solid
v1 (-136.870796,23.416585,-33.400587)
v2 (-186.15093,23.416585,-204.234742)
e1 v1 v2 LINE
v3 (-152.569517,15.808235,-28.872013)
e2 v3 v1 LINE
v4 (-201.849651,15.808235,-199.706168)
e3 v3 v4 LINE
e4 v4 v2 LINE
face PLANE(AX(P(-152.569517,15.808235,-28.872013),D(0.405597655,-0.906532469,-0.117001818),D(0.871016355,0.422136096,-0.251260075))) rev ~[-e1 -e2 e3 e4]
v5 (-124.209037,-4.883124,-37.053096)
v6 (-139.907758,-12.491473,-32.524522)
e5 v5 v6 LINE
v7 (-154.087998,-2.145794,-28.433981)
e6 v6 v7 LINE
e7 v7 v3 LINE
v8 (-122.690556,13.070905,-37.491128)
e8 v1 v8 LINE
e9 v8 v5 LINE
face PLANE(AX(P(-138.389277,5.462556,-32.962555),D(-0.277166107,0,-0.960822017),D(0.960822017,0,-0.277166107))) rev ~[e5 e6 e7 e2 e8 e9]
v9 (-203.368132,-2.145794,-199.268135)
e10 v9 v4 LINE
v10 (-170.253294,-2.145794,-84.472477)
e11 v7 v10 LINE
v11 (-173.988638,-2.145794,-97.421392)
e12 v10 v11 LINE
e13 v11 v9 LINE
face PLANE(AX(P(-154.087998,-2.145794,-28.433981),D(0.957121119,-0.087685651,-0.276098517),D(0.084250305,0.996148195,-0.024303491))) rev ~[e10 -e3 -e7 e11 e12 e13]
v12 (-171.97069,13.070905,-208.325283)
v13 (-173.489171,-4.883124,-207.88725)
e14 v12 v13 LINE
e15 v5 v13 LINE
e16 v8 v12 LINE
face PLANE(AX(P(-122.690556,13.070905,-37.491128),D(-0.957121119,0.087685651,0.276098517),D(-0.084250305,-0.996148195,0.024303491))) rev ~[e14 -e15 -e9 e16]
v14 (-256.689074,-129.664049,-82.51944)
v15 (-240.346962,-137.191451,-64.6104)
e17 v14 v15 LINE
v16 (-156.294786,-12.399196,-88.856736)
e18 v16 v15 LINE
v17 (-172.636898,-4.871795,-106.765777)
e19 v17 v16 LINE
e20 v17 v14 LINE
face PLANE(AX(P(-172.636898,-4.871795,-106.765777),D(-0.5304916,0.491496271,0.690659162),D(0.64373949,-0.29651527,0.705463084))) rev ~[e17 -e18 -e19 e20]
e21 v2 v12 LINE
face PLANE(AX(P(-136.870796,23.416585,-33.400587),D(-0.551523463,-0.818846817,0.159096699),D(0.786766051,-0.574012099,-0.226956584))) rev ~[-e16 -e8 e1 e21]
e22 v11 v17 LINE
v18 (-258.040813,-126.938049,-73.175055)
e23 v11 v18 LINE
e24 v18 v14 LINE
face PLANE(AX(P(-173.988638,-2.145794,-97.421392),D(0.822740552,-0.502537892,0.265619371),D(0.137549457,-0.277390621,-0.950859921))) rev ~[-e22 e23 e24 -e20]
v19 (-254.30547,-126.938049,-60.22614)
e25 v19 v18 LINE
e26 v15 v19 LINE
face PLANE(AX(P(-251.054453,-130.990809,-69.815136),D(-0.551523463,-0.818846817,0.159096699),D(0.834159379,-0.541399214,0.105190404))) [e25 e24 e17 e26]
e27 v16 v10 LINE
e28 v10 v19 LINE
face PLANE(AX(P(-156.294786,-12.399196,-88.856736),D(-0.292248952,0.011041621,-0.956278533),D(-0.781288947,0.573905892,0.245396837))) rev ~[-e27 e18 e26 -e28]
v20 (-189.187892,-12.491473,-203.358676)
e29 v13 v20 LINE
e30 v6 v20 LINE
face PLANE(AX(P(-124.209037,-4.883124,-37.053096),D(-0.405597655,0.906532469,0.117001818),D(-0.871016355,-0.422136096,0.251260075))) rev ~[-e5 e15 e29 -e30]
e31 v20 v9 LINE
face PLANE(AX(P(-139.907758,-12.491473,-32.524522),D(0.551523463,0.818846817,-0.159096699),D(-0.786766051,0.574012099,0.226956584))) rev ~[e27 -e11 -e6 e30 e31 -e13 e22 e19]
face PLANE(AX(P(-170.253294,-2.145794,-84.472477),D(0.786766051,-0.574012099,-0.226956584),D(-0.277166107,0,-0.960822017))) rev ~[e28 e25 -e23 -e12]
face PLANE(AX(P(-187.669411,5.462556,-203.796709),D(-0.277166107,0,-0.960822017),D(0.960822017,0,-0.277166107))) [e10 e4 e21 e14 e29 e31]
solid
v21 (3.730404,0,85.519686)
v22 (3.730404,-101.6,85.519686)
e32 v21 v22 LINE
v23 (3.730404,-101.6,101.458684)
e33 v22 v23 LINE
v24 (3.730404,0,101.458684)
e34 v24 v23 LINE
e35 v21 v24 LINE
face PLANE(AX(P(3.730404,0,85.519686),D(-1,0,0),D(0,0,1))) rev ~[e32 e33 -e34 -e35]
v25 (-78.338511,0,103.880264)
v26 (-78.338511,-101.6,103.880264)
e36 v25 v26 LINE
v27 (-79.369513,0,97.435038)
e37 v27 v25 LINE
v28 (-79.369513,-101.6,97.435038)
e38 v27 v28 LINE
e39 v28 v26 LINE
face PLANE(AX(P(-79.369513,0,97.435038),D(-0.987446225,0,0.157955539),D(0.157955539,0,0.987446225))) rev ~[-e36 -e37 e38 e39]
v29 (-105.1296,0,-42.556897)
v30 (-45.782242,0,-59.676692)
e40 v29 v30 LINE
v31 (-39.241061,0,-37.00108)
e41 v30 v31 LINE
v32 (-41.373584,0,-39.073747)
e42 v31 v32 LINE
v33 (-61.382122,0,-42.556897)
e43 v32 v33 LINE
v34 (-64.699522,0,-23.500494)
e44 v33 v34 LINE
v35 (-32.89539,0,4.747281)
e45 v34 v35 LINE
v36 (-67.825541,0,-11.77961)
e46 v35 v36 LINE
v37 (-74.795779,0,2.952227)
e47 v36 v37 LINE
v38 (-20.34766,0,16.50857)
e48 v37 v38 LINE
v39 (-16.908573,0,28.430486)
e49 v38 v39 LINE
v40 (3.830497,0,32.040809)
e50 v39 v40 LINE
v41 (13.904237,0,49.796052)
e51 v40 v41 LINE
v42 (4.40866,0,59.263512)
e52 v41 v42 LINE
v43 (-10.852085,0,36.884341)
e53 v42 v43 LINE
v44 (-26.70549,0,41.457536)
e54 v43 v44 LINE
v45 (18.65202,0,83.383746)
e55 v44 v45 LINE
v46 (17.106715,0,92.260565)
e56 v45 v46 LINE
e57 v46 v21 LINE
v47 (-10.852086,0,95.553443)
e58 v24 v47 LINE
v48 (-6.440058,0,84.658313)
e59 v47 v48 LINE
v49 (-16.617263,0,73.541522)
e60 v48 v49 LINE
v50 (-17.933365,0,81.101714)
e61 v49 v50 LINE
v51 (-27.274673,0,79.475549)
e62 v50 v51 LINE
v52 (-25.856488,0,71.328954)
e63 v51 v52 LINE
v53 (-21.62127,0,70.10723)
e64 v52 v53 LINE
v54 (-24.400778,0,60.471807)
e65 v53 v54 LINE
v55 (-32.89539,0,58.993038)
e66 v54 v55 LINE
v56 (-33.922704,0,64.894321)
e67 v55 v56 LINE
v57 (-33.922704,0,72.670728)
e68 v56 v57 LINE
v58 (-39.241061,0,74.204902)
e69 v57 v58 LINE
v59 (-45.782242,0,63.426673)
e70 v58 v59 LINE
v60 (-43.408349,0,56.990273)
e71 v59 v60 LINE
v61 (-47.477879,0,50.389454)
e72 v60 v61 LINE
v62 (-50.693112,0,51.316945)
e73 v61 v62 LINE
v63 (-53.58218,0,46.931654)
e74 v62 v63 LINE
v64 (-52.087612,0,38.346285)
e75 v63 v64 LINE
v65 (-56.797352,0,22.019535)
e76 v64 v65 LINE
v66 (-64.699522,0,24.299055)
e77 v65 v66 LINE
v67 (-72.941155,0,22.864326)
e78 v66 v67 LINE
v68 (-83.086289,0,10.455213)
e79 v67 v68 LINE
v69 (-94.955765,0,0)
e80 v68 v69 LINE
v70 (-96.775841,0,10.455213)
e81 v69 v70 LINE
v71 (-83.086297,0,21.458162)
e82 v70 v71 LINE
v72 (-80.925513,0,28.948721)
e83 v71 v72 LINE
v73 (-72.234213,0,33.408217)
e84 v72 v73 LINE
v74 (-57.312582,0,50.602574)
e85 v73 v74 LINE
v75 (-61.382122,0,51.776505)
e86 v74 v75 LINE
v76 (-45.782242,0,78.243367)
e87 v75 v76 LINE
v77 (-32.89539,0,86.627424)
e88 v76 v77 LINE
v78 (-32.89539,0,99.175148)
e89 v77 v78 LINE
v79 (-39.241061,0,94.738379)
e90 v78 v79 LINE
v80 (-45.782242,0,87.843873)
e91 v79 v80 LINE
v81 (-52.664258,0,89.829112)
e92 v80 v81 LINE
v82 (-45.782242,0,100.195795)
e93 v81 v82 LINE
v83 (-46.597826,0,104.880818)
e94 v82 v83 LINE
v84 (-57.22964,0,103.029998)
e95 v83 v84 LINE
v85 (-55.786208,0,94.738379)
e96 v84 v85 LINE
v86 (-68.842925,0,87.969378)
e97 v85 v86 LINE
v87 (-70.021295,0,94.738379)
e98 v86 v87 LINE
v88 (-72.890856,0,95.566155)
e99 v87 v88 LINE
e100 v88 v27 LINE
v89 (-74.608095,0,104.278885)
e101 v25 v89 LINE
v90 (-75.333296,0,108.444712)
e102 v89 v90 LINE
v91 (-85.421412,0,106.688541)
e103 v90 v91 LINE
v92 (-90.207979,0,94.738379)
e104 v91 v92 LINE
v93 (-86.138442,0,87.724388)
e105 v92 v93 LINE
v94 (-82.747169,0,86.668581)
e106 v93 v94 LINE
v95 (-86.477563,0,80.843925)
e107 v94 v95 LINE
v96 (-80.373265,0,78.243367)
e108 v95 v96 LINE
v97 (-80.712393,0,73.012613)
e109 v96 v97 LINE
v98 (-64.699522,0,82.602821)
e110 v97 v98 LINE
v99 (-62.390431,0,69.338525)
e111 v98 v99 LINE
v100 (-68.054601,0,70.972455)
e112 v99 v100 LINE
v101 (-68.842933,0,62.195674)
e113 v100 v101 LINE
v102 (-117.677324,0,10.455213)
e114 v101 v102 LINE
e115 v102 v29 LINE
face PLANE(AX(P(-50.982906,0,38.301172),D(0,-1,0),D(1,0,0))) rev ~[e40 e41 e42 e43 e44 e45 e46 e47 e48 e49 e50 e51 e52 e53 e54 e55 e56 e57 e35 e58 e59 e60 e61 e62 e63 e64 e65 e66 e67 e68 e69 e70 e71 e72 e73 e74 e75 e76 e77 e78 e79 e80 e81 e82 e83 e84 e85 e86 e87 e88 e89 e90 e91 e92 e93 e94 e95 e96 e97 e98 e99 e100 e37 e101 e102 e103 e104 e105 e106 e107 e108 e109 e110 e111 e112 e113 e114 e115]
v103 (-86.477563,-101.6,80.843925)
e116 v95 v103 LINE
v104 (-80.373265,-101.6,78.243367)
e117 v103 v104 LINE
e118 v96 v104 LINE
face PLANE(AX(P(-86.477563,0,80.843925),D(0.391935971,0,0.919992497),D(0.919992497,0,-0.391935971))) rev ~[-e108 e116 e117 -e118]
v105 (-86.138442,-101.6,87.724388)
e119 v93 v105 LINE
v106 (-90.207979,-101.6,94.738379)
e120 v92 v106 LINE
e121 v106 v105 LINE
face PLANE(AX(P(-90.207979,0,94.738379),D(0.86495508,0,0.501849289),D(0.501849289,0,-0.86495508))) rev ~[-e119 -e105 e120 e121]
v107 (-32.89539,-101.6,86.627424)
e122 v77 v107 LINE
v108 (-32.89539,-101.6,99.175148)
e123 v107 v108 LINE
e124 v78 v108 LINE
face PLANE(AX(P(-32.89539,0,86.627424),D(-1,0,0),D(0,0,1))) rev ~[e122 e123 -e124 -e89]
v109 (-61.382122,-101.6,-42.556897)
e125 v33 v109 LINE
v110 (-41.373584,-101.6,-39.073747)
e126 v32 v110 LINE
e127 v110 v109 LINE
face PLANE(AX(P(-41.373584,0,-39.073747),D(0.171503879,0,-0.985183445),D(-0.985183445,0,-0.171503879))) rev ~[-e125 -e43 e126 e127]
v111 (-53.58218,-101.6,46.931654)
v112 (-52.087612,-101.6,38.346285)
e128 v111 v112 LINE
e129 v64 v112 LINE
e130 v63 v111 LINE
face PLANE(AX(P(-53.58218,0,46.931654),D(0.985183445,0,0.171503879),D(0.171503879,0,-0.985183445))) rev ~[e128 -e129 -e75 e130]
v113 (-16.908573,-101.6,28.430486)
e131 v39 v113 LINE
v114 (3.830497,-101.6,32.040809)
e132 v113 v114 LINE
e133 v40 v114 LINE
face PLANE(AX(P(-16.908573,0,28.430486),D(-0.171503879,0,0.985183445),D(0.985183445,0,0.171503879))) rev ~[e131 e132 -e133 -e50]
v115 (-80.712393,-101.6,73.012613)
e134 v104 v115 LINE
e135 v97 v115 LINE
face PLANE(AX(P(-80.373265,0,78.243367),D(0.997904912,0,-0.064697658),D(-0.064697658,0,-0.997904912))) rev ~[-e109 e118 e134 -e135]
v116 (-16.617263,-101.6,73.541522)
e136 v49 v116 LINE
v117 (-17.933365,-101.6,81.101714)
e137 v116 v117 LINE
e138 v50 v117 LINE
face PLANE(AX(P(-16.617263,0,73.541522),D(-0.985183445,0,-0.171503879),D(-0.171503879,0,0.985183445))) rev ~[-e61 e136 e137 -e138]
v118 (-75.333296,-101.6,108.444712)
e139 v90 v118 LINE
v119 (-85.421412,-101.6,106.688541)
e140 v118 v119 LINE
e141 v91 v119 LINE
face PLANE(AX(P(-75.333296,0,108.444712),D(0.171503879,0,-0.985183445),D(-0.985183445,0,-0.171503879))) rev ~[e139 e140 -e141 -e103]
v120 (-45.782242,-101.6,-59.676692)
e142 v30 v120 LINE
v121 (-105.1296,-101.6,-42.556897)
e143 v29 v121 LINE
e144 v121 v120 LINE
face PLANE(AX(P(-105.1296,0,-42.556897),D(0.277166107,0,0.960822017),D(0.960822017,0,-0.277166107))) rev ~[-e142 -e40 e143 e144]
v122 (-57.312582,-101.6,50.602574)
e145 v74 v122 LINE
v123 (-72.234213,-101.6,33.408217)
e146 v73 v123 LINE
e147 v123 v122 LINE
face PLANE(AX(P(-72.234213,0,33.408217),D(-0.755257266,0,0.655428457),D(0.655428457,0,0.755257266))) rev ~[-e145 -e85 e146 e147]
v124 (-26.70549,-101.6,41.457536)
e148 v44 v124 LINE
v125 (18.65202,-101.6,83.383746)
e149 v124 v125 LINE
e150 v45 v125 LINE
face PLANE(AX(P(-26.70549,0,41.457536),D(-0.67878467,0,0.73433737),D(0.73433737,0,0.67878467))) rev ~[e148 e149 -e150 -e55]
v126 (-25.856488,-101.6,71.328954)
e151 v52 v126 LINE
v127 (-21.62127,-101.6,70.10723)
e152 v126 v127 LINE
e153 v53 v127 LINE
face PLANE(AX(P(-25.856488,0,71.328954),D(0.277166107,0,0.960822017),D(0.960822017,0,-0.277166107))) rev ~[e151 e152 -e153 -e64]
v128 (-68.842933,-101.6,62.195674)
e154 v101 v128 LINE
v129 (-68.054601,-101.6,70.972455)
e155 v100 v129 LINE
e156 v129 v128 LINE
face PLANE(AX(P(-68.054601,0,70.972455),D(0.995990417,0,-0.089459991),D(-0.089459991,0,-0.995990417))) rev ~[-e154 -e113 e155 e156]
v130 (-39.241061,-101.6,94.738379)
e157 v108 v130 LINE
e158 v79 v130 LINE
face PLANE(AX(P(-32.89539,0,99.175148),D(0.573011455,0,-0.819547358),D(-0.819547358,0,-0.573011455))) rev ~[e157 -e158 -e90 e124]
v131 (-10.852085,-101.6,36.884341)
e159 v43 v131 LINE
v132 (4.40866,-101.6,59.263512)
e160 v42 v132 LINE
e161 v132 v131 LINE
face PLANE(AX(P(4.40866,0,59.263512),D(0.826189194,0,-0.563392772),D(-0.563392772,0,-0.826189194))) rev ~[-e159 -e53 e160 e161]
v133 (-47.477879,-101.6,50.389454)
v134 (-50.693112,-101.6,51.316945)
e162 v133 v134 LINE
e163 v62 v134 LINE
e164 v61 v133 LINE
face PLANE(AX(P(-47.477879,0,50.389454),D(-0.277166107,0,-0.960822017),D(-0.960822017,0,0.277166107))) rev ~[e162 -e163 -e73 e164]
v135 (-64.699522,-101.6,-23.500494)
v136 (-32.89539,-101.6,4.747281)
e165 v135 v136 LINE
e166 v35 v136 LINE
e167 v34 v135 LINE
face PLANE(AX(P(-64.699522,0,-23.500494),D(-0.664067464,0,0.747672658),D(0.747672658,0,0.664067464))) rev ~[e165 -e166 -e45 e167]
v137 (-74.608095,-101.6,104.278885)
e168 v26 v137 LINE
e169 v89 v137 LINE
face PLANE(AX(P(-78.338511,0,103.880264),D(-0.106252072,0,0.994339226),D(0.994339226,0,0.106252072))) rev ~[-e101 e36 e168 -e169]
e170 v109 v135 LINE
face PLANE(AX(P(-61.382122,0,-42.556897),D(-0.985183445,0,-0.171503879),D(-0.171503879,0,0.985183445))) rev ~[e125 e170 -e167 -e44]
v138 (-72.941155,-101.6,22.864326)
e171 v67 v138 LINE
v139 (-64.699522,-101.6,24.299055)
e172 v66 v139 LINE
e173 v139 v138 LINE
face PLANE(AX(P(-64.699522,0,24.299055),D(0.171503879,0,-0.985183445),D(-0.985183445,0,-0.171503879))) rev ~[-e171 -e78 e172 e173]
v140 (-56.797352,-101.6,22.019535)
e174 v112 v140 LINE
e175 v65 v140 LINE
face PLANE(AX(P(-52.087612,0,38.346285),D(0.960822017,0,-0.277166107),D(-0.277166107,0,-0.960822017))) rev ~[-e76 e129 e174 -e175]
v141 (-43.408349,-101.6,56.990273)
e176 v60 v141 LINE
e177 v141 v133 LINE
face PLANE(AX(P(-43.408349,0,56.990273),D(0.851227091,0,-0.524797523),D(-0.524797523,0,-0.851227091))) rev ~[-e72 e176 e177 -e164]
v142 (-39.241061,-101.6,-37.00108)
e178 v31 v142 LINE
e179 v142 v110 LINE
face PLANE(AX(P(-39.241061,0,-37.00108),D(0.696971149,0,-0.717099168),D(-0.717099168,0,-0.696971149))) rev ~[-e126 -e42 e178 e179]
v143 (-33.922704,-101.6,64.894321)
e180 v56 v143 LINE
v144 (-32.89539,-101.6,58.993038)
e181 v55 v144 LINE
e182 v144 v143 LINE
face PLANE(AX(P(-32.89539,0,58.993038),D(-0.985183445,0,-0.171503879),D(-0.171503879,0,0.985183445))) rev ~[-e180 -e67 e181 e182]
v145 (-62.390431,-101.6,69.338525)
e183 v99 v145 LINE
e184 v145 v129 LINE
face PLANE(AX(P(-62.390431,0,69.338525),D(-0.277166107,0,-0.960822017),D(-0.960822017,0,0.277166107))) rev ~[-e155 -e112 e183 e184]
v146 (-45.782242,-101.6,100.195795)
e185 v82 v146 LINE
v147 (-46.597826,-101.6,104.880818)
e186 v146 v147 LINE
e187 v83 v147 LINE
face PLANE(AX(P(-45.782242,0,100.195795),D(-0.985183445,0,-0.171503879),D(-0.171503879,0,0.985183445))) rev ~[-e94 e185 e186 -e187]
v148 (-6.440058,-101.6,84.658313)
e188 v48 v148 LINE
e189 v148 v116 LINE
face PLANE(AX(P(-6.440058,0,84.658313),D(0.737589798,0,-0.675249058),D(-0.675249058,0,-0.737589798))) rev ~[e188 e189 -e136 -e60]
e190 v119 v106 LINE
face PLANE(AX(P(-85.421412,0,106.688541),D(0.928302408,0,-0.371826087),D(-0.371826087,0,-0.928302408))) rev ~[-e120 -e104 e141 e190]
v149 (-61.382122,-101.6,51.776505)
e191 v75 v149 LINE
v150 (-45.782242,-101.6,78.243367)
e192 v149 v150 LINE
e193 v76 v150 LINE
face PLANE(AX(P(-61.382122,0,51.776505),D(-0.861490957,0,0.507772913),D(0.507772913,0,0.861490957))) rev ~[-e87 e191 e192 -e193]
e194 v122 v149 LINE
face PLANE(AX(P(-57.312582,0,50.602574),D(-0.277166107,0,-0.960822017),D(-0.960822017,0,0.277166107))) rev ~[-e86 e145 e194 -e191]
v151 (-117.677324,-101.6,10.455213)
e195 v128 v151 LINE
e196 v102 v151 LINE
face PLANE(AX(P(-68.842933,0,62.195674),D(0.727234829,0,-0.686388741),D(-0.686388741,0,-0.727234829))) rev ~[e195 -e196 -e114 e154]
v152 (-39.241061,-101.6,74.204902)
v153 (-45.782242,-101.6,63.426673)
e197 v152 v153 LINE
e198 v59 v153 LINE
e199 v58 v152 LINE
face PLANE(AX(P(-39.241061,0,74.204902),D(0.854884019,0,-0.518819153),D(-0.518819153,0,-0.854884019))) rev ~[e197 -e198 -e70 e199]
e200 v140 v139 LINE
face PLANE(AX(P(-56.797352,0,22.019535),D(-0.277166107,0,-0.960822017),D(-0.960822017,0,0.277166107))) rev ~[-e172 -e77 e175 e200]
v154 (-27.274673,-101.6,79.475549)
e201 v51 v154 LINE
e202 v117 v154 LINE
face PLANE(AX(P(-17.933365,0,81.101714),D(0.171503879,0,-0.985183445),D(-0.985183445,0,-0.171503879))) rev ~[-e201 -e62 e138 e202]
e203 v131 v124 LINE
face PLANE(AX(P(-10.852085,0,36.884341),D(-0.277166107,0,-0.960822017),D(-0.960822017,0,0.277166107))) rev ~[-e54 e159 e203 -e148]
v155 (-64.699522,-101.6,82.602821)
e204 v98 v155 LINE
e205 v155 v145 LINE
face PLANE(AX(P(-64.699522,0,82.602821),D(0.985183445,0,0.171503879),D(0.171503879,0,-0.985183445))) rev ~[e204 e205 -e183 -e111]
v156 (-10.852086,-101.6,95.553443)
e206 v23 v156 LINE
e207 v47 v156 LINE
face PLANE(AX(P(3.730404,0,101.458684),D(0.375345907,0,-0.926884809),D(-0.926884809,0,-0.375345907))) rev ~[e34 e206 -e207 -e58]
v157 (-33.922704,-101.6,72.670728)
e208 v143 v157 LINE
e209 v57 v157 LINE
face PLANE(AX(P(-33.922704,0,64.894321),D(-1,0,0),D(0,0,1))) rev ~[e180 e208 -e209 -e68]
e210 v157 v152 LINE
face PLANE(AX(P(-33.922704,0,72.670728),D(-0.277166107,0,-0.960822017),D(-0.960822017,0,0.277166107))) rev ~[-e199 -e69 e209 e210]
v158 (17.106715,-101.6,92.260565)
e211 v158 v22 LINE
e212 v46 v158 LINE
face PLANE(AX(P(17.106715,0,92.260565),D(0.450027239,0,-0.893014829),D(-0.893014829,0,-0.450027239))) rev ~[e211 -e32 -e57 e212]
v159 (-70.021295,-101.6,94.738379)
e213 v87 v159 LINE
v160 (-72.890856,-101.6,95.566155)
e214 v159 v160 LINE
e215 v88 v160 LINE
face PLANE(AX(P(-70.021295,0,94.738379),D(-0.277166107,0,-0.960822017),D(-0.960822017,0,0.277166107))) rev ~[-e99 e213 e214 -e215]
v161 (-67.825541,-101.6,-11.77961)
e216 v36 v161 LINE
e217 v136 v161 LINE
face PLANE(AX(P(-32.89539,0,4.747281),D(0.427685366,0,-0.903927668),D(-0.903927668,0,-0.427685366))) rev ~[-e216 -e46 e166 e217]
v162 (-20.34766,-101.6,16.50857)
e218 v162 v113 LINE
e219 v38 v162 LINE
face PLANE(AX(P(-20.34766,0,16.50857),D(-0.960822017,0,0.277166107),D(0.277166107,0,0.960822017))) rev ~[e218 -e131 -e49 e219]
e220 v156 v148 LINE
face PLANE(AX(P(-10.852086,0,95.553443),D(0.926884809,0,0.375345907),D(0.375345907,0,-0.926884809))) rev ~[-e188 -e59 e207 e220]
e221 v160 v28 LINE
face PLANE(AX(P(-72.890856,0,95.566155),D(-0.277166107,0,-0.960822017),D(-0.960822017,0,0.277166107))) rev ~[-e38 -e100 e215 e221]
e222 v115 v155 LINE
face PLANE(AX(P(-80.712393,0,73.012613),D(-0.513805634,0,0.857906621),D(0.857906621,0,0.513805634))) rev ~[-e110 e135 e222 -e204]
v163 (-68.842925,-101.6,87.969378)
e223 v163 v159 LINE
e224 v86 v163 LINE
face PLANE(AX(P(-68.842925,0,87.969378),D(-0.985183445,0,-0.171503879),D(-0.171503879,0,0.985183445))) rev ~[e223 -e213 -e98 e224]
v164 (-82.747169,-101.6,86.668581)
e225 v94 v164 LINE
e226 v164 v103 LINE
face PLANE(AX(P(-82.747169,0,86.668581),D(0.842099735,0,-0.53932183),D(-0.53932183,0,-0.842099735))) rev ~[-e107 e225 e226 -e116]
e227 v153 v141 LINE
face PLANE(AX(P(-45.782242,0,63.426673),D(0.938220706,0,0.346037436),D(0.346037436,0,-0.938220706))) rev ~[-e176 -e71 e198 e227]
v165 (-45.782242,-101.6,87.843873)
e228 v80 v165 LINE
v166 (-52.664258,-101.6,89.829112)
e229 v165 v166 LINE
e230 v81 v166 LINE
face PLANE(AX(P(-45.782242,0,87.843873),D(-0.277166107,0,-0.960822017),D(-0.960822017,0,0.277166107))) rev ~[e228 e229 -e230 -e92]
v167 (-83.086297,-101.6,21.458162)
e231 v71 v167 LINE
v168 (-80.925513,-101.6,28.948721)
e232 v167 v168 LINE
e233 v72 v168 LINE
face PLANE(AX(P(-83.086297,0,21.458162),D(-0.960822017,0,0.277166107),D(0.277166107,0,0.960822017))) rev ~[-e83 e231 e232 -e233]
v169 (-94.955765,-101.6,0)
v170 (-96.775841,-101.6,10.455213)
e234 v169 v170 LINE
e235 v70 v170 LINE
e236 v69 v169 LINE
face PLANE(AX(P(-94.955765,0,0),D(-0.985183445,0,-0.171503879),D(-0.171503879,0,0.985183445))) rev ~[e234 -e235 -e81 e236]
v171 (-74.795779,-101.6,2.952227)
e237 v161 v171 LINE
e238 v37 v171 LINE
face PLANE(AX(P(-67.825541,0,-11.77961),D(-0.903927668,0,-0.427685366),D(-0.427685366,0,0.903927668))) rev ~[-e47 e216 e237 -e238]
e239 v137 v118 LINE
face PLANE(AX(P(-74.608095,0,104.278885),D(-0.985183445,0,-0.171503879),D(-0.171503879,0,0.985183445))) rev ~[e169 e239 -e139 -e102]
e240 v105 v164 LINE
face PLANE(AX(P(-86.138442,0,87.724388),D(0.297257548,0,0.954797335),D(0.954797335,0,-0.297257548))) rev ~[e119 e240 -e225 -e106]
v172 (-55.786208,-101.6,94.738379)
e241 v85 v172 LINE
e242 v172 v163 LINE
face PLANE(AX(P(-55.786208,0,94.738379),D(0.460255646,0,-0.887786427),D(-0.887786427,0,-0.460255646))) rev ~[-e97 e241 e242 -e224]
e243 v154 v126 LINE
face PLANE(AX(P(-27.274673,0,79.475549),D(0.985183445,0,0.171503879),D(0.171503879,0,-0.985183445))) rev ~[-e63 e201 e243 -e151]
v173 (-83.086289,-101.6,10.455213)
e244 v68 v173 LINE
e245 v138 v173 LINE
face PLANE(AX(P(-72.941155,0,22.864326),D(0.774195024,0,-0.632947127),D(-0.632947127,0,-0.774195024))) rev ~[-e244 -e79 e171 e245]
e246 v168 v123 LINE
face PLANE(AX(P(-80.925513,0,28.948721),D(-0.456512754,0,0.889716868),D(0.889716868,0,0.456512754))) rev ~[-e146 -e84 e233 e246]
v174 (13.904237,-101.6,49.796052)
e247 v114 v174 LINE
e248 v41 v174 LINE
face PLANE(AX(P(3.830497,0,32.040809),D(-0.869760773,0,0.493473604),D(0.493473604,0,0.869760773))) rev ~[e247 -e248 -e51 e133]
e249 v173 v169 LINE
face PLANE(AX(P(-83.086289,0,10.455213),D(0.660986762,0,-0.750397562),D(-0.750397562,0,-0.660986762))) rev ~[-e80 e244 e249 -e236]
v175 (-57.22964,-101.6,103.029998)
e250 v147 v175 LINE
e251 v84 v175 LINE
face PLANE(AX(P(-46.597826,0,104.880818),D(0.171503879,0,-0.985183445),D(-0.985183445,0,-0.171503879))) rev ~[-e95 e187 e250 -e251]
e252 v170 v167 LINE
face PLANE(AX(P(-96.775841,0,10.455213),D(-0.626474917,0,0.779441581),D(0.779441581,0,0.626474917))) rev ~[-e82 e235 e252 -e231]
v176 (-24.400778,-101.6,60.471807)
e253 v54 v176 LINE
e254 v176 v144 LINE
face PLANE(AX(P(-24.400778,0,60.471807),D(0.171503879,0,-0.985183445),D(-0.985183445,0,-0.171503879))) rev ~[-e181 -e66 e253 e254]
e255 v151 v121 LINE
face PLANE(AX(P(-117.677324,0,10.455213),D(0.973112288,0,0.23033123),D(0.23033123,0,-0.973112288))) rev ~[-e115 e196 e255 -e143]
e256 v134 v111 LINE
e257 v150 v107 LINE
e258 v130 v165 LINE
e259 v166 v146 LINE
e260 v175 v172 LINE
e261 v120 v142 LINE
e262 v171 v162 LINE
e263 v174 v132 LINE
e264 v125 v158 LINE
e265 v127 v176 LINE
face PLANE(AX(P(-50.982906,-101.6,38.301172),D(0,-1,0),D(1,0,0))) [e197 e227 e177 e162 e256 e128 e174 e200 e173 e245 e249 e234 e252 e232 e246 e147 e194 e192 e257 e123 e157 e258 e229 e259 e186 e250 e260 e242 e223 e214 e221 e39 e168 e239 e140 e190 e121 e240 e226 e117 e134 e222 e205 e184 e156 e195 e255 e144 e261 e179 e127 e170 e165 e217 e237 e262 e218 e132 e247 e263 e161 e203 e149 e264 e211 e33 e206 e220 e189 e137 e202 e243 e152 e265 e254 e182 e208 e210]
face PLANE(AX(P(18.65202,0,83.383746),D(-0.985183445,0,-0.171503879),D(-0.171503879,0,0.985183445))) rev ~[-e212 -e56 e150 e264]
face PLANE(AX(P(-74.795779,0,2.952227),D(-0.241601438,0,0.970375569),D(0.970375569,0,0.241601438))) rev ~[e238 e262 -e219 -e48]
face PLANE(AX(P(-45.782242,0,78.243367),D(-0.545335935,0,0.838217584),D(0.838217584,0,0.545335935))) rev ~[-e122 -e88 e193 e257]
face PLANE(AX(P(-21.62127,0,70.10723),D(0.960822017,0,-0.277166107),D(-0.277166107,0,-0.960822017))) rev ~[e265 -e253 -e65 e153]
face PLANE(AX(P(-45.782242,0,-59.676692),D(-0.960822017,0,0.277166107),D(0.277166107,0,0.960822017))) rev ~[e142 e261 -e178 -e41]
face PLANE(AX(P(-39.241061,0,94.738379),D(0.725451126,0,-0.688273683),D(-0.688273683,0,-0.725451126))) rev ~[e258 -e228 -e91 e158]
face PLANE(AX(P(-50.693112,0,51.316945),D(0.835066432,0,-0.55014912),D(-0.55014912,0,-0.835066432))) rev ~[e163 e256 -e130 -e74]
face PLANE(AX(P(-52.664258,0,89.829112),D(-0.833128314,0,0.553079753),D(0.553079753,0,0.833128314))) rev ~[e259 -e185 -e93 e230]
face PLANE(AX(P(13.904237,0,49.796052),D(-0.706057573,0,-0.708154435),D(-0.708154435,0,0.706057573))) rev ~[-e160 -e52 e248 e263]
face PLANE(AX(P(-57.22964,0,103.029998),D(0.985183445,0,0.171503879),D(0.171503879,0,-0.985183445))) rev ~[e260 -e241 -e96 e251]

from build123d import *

# Parameters (mm, degrees)
F1_DEPTH = 101.6
F3_DEPTH = 177.8
F5_DEPTH = 152.4


with BuildPart() as f1:
    # F0 (on Front) → F1 (new body)
    with BuildSketch(Plane.XZ):
        Polygon((-68.0546009286, 70.9724547934), (-68.8429325819, 62.1956735849), (-117.6773235202, 10.4552125558), (-105.1295995712, -42.5568968058), (-45.7822419703, -59.6766918898), (-39.2410605975, -37.0010799353), (-41.3735844195, -39.0737466514), (-61.3821223378, -42.5568968058), (-64.6995217924, -23.5004938845), (-32.8953899443, 4.7472813167), (-67.8255409002, -11.7796100676), (-74.7957791542, 2.9522271998), (-20.3476604074, 16.5085699409), (-16.9085729051, 28.4304857593), (3.830497367, 32.0408093179), (13.9042371884, 49.7960522771), (4.4086603448, 59.2635124922), (-10.8520854264, 36.8843413889), (-26.7054904199, 41.4575364871), (18.6520200223, 83.3837464452), (17.106715133, 92.2605648714), (3.7304037251, 85.5196863413), (3.7304037251, 101.45868361), (-10.8520863578, 95.5534428358), (-6.4400576502, 84.6583130124), (-16.617262736, 73.5415220261), (-17.9333650136, 81.1017135653), (-27.2746733877, 79.4755487832), (-25.8564880808, 71.3289535374), (-21.6212702161, 70.1072300284), (-24.4007783182, 60.47180738), (-32.8953899443, 58.9930382707), (-33.9227040795, 64.8943209937), (-33.9227040795, 72.6707279682), (-39.2410605975, 74.2049019812), (-45.7822419703, 63.4266734123), (-43.4083491564, 56.9902732968), (-47.4778786302, 50.3894537687), (-50.693112243, 51.316944778), (-53.5821802914, 46.9316542149), (-52.0876118716, 38.3462853462), (-56.7973518724, 22.0195347828), (-64.6995217924, 24.2990554762), (-72.941155196, 22.8643256234), (-83.0862894654, 10.4552125558), (-94.9557647109, 0), (-96.7758414889, 10.4552125558), (-83.086296916, 21.4581619948), (-80.9255126919, 28.9487209306), (-72.2342133522, 33.4082171321), (-57.3125816882, 50.6025739014), (-61.3821223378, 51.7765048871), (-45.7822419703, 78.2433673739), (-32.8953899443, 86.6274237633), (-32.8953899443, 99.1751477122), (-39.2410605975, 94.7383791208), (-45.7822419703, 87.8438726068), (-52.6642583037, 89.8291119528), (-45.7822419703, 100.1957952976), (-46.597825649, 104.8808178314), (-57.2296397348, 103.0299976952), (-55.7862083039, 94.7383791208), (-68.8429251313, 87.9693776369), (-70.0212945184, 94.7383791208), (-72.8908556805, 95.5661547972), (-79.3695133472, 97.4350382008), (-78.3385112882, 103.880263865), (-74.6080949903, 104.2788848281), (-75.3332955202, 108.4447122138), (-85.4214119311, 106.6885407045), (-90.2079790831, 94.7383791208), (-86.1384421587, 87.7243876457), (-82.747168839, 86.6685807705), (-86.4775627851, 80.8439254761), (-80.3732648492, 78.2433673739), (-80.7123929262, 73.0126127601), (-64.6995217924, 82.6028212905), (-62.3904306977, 69.3385246979), align=None)
    extrude(amount=F1_DEPTH)


with BuildPart() as f3:
    # F2 (on face) → F3 (new body)
    with BuildSketch(Plane(origin=(-19.4093784947, 0, -67.2844108638), x_dir=(0.9608220175, 0, -0.2771661067), z_dir=(-0.2771661067, 0, -0.9608220175))):
        Polygon((-125.4117596467, 12.491473315), (-140.1702057998, 2.145793902), (-138.5898076853, -15.8082350934), (-122.2509634177, -23.4165846758), (-107.4925172647, -13.0709052629), (-109.0729153791, 4.8831237325), align=None)
    extrude(amount=F3_DEPTH)

    # F4 (on face) → F5 (join)
    with BuildSketch(Plane(origin=(-45.344312599, -67.3226952588, 13.080369056), x_dir=(0.8341593789, -0.5413992144, 0.1051904043), z_dir=(-0.5515234633, -0.8188468171, 0.1590966988))):
        Polygon((-152.5998369917, -105.7350730714), (-133.0087228552, -89.5904654446), (-149.7423447495, -83.3310866593), (-154.2203182673, -96.0423000966), align=None)
    extrude(amount=F5_DEPTH)


solid = Compound([f1.part, f3.part])
